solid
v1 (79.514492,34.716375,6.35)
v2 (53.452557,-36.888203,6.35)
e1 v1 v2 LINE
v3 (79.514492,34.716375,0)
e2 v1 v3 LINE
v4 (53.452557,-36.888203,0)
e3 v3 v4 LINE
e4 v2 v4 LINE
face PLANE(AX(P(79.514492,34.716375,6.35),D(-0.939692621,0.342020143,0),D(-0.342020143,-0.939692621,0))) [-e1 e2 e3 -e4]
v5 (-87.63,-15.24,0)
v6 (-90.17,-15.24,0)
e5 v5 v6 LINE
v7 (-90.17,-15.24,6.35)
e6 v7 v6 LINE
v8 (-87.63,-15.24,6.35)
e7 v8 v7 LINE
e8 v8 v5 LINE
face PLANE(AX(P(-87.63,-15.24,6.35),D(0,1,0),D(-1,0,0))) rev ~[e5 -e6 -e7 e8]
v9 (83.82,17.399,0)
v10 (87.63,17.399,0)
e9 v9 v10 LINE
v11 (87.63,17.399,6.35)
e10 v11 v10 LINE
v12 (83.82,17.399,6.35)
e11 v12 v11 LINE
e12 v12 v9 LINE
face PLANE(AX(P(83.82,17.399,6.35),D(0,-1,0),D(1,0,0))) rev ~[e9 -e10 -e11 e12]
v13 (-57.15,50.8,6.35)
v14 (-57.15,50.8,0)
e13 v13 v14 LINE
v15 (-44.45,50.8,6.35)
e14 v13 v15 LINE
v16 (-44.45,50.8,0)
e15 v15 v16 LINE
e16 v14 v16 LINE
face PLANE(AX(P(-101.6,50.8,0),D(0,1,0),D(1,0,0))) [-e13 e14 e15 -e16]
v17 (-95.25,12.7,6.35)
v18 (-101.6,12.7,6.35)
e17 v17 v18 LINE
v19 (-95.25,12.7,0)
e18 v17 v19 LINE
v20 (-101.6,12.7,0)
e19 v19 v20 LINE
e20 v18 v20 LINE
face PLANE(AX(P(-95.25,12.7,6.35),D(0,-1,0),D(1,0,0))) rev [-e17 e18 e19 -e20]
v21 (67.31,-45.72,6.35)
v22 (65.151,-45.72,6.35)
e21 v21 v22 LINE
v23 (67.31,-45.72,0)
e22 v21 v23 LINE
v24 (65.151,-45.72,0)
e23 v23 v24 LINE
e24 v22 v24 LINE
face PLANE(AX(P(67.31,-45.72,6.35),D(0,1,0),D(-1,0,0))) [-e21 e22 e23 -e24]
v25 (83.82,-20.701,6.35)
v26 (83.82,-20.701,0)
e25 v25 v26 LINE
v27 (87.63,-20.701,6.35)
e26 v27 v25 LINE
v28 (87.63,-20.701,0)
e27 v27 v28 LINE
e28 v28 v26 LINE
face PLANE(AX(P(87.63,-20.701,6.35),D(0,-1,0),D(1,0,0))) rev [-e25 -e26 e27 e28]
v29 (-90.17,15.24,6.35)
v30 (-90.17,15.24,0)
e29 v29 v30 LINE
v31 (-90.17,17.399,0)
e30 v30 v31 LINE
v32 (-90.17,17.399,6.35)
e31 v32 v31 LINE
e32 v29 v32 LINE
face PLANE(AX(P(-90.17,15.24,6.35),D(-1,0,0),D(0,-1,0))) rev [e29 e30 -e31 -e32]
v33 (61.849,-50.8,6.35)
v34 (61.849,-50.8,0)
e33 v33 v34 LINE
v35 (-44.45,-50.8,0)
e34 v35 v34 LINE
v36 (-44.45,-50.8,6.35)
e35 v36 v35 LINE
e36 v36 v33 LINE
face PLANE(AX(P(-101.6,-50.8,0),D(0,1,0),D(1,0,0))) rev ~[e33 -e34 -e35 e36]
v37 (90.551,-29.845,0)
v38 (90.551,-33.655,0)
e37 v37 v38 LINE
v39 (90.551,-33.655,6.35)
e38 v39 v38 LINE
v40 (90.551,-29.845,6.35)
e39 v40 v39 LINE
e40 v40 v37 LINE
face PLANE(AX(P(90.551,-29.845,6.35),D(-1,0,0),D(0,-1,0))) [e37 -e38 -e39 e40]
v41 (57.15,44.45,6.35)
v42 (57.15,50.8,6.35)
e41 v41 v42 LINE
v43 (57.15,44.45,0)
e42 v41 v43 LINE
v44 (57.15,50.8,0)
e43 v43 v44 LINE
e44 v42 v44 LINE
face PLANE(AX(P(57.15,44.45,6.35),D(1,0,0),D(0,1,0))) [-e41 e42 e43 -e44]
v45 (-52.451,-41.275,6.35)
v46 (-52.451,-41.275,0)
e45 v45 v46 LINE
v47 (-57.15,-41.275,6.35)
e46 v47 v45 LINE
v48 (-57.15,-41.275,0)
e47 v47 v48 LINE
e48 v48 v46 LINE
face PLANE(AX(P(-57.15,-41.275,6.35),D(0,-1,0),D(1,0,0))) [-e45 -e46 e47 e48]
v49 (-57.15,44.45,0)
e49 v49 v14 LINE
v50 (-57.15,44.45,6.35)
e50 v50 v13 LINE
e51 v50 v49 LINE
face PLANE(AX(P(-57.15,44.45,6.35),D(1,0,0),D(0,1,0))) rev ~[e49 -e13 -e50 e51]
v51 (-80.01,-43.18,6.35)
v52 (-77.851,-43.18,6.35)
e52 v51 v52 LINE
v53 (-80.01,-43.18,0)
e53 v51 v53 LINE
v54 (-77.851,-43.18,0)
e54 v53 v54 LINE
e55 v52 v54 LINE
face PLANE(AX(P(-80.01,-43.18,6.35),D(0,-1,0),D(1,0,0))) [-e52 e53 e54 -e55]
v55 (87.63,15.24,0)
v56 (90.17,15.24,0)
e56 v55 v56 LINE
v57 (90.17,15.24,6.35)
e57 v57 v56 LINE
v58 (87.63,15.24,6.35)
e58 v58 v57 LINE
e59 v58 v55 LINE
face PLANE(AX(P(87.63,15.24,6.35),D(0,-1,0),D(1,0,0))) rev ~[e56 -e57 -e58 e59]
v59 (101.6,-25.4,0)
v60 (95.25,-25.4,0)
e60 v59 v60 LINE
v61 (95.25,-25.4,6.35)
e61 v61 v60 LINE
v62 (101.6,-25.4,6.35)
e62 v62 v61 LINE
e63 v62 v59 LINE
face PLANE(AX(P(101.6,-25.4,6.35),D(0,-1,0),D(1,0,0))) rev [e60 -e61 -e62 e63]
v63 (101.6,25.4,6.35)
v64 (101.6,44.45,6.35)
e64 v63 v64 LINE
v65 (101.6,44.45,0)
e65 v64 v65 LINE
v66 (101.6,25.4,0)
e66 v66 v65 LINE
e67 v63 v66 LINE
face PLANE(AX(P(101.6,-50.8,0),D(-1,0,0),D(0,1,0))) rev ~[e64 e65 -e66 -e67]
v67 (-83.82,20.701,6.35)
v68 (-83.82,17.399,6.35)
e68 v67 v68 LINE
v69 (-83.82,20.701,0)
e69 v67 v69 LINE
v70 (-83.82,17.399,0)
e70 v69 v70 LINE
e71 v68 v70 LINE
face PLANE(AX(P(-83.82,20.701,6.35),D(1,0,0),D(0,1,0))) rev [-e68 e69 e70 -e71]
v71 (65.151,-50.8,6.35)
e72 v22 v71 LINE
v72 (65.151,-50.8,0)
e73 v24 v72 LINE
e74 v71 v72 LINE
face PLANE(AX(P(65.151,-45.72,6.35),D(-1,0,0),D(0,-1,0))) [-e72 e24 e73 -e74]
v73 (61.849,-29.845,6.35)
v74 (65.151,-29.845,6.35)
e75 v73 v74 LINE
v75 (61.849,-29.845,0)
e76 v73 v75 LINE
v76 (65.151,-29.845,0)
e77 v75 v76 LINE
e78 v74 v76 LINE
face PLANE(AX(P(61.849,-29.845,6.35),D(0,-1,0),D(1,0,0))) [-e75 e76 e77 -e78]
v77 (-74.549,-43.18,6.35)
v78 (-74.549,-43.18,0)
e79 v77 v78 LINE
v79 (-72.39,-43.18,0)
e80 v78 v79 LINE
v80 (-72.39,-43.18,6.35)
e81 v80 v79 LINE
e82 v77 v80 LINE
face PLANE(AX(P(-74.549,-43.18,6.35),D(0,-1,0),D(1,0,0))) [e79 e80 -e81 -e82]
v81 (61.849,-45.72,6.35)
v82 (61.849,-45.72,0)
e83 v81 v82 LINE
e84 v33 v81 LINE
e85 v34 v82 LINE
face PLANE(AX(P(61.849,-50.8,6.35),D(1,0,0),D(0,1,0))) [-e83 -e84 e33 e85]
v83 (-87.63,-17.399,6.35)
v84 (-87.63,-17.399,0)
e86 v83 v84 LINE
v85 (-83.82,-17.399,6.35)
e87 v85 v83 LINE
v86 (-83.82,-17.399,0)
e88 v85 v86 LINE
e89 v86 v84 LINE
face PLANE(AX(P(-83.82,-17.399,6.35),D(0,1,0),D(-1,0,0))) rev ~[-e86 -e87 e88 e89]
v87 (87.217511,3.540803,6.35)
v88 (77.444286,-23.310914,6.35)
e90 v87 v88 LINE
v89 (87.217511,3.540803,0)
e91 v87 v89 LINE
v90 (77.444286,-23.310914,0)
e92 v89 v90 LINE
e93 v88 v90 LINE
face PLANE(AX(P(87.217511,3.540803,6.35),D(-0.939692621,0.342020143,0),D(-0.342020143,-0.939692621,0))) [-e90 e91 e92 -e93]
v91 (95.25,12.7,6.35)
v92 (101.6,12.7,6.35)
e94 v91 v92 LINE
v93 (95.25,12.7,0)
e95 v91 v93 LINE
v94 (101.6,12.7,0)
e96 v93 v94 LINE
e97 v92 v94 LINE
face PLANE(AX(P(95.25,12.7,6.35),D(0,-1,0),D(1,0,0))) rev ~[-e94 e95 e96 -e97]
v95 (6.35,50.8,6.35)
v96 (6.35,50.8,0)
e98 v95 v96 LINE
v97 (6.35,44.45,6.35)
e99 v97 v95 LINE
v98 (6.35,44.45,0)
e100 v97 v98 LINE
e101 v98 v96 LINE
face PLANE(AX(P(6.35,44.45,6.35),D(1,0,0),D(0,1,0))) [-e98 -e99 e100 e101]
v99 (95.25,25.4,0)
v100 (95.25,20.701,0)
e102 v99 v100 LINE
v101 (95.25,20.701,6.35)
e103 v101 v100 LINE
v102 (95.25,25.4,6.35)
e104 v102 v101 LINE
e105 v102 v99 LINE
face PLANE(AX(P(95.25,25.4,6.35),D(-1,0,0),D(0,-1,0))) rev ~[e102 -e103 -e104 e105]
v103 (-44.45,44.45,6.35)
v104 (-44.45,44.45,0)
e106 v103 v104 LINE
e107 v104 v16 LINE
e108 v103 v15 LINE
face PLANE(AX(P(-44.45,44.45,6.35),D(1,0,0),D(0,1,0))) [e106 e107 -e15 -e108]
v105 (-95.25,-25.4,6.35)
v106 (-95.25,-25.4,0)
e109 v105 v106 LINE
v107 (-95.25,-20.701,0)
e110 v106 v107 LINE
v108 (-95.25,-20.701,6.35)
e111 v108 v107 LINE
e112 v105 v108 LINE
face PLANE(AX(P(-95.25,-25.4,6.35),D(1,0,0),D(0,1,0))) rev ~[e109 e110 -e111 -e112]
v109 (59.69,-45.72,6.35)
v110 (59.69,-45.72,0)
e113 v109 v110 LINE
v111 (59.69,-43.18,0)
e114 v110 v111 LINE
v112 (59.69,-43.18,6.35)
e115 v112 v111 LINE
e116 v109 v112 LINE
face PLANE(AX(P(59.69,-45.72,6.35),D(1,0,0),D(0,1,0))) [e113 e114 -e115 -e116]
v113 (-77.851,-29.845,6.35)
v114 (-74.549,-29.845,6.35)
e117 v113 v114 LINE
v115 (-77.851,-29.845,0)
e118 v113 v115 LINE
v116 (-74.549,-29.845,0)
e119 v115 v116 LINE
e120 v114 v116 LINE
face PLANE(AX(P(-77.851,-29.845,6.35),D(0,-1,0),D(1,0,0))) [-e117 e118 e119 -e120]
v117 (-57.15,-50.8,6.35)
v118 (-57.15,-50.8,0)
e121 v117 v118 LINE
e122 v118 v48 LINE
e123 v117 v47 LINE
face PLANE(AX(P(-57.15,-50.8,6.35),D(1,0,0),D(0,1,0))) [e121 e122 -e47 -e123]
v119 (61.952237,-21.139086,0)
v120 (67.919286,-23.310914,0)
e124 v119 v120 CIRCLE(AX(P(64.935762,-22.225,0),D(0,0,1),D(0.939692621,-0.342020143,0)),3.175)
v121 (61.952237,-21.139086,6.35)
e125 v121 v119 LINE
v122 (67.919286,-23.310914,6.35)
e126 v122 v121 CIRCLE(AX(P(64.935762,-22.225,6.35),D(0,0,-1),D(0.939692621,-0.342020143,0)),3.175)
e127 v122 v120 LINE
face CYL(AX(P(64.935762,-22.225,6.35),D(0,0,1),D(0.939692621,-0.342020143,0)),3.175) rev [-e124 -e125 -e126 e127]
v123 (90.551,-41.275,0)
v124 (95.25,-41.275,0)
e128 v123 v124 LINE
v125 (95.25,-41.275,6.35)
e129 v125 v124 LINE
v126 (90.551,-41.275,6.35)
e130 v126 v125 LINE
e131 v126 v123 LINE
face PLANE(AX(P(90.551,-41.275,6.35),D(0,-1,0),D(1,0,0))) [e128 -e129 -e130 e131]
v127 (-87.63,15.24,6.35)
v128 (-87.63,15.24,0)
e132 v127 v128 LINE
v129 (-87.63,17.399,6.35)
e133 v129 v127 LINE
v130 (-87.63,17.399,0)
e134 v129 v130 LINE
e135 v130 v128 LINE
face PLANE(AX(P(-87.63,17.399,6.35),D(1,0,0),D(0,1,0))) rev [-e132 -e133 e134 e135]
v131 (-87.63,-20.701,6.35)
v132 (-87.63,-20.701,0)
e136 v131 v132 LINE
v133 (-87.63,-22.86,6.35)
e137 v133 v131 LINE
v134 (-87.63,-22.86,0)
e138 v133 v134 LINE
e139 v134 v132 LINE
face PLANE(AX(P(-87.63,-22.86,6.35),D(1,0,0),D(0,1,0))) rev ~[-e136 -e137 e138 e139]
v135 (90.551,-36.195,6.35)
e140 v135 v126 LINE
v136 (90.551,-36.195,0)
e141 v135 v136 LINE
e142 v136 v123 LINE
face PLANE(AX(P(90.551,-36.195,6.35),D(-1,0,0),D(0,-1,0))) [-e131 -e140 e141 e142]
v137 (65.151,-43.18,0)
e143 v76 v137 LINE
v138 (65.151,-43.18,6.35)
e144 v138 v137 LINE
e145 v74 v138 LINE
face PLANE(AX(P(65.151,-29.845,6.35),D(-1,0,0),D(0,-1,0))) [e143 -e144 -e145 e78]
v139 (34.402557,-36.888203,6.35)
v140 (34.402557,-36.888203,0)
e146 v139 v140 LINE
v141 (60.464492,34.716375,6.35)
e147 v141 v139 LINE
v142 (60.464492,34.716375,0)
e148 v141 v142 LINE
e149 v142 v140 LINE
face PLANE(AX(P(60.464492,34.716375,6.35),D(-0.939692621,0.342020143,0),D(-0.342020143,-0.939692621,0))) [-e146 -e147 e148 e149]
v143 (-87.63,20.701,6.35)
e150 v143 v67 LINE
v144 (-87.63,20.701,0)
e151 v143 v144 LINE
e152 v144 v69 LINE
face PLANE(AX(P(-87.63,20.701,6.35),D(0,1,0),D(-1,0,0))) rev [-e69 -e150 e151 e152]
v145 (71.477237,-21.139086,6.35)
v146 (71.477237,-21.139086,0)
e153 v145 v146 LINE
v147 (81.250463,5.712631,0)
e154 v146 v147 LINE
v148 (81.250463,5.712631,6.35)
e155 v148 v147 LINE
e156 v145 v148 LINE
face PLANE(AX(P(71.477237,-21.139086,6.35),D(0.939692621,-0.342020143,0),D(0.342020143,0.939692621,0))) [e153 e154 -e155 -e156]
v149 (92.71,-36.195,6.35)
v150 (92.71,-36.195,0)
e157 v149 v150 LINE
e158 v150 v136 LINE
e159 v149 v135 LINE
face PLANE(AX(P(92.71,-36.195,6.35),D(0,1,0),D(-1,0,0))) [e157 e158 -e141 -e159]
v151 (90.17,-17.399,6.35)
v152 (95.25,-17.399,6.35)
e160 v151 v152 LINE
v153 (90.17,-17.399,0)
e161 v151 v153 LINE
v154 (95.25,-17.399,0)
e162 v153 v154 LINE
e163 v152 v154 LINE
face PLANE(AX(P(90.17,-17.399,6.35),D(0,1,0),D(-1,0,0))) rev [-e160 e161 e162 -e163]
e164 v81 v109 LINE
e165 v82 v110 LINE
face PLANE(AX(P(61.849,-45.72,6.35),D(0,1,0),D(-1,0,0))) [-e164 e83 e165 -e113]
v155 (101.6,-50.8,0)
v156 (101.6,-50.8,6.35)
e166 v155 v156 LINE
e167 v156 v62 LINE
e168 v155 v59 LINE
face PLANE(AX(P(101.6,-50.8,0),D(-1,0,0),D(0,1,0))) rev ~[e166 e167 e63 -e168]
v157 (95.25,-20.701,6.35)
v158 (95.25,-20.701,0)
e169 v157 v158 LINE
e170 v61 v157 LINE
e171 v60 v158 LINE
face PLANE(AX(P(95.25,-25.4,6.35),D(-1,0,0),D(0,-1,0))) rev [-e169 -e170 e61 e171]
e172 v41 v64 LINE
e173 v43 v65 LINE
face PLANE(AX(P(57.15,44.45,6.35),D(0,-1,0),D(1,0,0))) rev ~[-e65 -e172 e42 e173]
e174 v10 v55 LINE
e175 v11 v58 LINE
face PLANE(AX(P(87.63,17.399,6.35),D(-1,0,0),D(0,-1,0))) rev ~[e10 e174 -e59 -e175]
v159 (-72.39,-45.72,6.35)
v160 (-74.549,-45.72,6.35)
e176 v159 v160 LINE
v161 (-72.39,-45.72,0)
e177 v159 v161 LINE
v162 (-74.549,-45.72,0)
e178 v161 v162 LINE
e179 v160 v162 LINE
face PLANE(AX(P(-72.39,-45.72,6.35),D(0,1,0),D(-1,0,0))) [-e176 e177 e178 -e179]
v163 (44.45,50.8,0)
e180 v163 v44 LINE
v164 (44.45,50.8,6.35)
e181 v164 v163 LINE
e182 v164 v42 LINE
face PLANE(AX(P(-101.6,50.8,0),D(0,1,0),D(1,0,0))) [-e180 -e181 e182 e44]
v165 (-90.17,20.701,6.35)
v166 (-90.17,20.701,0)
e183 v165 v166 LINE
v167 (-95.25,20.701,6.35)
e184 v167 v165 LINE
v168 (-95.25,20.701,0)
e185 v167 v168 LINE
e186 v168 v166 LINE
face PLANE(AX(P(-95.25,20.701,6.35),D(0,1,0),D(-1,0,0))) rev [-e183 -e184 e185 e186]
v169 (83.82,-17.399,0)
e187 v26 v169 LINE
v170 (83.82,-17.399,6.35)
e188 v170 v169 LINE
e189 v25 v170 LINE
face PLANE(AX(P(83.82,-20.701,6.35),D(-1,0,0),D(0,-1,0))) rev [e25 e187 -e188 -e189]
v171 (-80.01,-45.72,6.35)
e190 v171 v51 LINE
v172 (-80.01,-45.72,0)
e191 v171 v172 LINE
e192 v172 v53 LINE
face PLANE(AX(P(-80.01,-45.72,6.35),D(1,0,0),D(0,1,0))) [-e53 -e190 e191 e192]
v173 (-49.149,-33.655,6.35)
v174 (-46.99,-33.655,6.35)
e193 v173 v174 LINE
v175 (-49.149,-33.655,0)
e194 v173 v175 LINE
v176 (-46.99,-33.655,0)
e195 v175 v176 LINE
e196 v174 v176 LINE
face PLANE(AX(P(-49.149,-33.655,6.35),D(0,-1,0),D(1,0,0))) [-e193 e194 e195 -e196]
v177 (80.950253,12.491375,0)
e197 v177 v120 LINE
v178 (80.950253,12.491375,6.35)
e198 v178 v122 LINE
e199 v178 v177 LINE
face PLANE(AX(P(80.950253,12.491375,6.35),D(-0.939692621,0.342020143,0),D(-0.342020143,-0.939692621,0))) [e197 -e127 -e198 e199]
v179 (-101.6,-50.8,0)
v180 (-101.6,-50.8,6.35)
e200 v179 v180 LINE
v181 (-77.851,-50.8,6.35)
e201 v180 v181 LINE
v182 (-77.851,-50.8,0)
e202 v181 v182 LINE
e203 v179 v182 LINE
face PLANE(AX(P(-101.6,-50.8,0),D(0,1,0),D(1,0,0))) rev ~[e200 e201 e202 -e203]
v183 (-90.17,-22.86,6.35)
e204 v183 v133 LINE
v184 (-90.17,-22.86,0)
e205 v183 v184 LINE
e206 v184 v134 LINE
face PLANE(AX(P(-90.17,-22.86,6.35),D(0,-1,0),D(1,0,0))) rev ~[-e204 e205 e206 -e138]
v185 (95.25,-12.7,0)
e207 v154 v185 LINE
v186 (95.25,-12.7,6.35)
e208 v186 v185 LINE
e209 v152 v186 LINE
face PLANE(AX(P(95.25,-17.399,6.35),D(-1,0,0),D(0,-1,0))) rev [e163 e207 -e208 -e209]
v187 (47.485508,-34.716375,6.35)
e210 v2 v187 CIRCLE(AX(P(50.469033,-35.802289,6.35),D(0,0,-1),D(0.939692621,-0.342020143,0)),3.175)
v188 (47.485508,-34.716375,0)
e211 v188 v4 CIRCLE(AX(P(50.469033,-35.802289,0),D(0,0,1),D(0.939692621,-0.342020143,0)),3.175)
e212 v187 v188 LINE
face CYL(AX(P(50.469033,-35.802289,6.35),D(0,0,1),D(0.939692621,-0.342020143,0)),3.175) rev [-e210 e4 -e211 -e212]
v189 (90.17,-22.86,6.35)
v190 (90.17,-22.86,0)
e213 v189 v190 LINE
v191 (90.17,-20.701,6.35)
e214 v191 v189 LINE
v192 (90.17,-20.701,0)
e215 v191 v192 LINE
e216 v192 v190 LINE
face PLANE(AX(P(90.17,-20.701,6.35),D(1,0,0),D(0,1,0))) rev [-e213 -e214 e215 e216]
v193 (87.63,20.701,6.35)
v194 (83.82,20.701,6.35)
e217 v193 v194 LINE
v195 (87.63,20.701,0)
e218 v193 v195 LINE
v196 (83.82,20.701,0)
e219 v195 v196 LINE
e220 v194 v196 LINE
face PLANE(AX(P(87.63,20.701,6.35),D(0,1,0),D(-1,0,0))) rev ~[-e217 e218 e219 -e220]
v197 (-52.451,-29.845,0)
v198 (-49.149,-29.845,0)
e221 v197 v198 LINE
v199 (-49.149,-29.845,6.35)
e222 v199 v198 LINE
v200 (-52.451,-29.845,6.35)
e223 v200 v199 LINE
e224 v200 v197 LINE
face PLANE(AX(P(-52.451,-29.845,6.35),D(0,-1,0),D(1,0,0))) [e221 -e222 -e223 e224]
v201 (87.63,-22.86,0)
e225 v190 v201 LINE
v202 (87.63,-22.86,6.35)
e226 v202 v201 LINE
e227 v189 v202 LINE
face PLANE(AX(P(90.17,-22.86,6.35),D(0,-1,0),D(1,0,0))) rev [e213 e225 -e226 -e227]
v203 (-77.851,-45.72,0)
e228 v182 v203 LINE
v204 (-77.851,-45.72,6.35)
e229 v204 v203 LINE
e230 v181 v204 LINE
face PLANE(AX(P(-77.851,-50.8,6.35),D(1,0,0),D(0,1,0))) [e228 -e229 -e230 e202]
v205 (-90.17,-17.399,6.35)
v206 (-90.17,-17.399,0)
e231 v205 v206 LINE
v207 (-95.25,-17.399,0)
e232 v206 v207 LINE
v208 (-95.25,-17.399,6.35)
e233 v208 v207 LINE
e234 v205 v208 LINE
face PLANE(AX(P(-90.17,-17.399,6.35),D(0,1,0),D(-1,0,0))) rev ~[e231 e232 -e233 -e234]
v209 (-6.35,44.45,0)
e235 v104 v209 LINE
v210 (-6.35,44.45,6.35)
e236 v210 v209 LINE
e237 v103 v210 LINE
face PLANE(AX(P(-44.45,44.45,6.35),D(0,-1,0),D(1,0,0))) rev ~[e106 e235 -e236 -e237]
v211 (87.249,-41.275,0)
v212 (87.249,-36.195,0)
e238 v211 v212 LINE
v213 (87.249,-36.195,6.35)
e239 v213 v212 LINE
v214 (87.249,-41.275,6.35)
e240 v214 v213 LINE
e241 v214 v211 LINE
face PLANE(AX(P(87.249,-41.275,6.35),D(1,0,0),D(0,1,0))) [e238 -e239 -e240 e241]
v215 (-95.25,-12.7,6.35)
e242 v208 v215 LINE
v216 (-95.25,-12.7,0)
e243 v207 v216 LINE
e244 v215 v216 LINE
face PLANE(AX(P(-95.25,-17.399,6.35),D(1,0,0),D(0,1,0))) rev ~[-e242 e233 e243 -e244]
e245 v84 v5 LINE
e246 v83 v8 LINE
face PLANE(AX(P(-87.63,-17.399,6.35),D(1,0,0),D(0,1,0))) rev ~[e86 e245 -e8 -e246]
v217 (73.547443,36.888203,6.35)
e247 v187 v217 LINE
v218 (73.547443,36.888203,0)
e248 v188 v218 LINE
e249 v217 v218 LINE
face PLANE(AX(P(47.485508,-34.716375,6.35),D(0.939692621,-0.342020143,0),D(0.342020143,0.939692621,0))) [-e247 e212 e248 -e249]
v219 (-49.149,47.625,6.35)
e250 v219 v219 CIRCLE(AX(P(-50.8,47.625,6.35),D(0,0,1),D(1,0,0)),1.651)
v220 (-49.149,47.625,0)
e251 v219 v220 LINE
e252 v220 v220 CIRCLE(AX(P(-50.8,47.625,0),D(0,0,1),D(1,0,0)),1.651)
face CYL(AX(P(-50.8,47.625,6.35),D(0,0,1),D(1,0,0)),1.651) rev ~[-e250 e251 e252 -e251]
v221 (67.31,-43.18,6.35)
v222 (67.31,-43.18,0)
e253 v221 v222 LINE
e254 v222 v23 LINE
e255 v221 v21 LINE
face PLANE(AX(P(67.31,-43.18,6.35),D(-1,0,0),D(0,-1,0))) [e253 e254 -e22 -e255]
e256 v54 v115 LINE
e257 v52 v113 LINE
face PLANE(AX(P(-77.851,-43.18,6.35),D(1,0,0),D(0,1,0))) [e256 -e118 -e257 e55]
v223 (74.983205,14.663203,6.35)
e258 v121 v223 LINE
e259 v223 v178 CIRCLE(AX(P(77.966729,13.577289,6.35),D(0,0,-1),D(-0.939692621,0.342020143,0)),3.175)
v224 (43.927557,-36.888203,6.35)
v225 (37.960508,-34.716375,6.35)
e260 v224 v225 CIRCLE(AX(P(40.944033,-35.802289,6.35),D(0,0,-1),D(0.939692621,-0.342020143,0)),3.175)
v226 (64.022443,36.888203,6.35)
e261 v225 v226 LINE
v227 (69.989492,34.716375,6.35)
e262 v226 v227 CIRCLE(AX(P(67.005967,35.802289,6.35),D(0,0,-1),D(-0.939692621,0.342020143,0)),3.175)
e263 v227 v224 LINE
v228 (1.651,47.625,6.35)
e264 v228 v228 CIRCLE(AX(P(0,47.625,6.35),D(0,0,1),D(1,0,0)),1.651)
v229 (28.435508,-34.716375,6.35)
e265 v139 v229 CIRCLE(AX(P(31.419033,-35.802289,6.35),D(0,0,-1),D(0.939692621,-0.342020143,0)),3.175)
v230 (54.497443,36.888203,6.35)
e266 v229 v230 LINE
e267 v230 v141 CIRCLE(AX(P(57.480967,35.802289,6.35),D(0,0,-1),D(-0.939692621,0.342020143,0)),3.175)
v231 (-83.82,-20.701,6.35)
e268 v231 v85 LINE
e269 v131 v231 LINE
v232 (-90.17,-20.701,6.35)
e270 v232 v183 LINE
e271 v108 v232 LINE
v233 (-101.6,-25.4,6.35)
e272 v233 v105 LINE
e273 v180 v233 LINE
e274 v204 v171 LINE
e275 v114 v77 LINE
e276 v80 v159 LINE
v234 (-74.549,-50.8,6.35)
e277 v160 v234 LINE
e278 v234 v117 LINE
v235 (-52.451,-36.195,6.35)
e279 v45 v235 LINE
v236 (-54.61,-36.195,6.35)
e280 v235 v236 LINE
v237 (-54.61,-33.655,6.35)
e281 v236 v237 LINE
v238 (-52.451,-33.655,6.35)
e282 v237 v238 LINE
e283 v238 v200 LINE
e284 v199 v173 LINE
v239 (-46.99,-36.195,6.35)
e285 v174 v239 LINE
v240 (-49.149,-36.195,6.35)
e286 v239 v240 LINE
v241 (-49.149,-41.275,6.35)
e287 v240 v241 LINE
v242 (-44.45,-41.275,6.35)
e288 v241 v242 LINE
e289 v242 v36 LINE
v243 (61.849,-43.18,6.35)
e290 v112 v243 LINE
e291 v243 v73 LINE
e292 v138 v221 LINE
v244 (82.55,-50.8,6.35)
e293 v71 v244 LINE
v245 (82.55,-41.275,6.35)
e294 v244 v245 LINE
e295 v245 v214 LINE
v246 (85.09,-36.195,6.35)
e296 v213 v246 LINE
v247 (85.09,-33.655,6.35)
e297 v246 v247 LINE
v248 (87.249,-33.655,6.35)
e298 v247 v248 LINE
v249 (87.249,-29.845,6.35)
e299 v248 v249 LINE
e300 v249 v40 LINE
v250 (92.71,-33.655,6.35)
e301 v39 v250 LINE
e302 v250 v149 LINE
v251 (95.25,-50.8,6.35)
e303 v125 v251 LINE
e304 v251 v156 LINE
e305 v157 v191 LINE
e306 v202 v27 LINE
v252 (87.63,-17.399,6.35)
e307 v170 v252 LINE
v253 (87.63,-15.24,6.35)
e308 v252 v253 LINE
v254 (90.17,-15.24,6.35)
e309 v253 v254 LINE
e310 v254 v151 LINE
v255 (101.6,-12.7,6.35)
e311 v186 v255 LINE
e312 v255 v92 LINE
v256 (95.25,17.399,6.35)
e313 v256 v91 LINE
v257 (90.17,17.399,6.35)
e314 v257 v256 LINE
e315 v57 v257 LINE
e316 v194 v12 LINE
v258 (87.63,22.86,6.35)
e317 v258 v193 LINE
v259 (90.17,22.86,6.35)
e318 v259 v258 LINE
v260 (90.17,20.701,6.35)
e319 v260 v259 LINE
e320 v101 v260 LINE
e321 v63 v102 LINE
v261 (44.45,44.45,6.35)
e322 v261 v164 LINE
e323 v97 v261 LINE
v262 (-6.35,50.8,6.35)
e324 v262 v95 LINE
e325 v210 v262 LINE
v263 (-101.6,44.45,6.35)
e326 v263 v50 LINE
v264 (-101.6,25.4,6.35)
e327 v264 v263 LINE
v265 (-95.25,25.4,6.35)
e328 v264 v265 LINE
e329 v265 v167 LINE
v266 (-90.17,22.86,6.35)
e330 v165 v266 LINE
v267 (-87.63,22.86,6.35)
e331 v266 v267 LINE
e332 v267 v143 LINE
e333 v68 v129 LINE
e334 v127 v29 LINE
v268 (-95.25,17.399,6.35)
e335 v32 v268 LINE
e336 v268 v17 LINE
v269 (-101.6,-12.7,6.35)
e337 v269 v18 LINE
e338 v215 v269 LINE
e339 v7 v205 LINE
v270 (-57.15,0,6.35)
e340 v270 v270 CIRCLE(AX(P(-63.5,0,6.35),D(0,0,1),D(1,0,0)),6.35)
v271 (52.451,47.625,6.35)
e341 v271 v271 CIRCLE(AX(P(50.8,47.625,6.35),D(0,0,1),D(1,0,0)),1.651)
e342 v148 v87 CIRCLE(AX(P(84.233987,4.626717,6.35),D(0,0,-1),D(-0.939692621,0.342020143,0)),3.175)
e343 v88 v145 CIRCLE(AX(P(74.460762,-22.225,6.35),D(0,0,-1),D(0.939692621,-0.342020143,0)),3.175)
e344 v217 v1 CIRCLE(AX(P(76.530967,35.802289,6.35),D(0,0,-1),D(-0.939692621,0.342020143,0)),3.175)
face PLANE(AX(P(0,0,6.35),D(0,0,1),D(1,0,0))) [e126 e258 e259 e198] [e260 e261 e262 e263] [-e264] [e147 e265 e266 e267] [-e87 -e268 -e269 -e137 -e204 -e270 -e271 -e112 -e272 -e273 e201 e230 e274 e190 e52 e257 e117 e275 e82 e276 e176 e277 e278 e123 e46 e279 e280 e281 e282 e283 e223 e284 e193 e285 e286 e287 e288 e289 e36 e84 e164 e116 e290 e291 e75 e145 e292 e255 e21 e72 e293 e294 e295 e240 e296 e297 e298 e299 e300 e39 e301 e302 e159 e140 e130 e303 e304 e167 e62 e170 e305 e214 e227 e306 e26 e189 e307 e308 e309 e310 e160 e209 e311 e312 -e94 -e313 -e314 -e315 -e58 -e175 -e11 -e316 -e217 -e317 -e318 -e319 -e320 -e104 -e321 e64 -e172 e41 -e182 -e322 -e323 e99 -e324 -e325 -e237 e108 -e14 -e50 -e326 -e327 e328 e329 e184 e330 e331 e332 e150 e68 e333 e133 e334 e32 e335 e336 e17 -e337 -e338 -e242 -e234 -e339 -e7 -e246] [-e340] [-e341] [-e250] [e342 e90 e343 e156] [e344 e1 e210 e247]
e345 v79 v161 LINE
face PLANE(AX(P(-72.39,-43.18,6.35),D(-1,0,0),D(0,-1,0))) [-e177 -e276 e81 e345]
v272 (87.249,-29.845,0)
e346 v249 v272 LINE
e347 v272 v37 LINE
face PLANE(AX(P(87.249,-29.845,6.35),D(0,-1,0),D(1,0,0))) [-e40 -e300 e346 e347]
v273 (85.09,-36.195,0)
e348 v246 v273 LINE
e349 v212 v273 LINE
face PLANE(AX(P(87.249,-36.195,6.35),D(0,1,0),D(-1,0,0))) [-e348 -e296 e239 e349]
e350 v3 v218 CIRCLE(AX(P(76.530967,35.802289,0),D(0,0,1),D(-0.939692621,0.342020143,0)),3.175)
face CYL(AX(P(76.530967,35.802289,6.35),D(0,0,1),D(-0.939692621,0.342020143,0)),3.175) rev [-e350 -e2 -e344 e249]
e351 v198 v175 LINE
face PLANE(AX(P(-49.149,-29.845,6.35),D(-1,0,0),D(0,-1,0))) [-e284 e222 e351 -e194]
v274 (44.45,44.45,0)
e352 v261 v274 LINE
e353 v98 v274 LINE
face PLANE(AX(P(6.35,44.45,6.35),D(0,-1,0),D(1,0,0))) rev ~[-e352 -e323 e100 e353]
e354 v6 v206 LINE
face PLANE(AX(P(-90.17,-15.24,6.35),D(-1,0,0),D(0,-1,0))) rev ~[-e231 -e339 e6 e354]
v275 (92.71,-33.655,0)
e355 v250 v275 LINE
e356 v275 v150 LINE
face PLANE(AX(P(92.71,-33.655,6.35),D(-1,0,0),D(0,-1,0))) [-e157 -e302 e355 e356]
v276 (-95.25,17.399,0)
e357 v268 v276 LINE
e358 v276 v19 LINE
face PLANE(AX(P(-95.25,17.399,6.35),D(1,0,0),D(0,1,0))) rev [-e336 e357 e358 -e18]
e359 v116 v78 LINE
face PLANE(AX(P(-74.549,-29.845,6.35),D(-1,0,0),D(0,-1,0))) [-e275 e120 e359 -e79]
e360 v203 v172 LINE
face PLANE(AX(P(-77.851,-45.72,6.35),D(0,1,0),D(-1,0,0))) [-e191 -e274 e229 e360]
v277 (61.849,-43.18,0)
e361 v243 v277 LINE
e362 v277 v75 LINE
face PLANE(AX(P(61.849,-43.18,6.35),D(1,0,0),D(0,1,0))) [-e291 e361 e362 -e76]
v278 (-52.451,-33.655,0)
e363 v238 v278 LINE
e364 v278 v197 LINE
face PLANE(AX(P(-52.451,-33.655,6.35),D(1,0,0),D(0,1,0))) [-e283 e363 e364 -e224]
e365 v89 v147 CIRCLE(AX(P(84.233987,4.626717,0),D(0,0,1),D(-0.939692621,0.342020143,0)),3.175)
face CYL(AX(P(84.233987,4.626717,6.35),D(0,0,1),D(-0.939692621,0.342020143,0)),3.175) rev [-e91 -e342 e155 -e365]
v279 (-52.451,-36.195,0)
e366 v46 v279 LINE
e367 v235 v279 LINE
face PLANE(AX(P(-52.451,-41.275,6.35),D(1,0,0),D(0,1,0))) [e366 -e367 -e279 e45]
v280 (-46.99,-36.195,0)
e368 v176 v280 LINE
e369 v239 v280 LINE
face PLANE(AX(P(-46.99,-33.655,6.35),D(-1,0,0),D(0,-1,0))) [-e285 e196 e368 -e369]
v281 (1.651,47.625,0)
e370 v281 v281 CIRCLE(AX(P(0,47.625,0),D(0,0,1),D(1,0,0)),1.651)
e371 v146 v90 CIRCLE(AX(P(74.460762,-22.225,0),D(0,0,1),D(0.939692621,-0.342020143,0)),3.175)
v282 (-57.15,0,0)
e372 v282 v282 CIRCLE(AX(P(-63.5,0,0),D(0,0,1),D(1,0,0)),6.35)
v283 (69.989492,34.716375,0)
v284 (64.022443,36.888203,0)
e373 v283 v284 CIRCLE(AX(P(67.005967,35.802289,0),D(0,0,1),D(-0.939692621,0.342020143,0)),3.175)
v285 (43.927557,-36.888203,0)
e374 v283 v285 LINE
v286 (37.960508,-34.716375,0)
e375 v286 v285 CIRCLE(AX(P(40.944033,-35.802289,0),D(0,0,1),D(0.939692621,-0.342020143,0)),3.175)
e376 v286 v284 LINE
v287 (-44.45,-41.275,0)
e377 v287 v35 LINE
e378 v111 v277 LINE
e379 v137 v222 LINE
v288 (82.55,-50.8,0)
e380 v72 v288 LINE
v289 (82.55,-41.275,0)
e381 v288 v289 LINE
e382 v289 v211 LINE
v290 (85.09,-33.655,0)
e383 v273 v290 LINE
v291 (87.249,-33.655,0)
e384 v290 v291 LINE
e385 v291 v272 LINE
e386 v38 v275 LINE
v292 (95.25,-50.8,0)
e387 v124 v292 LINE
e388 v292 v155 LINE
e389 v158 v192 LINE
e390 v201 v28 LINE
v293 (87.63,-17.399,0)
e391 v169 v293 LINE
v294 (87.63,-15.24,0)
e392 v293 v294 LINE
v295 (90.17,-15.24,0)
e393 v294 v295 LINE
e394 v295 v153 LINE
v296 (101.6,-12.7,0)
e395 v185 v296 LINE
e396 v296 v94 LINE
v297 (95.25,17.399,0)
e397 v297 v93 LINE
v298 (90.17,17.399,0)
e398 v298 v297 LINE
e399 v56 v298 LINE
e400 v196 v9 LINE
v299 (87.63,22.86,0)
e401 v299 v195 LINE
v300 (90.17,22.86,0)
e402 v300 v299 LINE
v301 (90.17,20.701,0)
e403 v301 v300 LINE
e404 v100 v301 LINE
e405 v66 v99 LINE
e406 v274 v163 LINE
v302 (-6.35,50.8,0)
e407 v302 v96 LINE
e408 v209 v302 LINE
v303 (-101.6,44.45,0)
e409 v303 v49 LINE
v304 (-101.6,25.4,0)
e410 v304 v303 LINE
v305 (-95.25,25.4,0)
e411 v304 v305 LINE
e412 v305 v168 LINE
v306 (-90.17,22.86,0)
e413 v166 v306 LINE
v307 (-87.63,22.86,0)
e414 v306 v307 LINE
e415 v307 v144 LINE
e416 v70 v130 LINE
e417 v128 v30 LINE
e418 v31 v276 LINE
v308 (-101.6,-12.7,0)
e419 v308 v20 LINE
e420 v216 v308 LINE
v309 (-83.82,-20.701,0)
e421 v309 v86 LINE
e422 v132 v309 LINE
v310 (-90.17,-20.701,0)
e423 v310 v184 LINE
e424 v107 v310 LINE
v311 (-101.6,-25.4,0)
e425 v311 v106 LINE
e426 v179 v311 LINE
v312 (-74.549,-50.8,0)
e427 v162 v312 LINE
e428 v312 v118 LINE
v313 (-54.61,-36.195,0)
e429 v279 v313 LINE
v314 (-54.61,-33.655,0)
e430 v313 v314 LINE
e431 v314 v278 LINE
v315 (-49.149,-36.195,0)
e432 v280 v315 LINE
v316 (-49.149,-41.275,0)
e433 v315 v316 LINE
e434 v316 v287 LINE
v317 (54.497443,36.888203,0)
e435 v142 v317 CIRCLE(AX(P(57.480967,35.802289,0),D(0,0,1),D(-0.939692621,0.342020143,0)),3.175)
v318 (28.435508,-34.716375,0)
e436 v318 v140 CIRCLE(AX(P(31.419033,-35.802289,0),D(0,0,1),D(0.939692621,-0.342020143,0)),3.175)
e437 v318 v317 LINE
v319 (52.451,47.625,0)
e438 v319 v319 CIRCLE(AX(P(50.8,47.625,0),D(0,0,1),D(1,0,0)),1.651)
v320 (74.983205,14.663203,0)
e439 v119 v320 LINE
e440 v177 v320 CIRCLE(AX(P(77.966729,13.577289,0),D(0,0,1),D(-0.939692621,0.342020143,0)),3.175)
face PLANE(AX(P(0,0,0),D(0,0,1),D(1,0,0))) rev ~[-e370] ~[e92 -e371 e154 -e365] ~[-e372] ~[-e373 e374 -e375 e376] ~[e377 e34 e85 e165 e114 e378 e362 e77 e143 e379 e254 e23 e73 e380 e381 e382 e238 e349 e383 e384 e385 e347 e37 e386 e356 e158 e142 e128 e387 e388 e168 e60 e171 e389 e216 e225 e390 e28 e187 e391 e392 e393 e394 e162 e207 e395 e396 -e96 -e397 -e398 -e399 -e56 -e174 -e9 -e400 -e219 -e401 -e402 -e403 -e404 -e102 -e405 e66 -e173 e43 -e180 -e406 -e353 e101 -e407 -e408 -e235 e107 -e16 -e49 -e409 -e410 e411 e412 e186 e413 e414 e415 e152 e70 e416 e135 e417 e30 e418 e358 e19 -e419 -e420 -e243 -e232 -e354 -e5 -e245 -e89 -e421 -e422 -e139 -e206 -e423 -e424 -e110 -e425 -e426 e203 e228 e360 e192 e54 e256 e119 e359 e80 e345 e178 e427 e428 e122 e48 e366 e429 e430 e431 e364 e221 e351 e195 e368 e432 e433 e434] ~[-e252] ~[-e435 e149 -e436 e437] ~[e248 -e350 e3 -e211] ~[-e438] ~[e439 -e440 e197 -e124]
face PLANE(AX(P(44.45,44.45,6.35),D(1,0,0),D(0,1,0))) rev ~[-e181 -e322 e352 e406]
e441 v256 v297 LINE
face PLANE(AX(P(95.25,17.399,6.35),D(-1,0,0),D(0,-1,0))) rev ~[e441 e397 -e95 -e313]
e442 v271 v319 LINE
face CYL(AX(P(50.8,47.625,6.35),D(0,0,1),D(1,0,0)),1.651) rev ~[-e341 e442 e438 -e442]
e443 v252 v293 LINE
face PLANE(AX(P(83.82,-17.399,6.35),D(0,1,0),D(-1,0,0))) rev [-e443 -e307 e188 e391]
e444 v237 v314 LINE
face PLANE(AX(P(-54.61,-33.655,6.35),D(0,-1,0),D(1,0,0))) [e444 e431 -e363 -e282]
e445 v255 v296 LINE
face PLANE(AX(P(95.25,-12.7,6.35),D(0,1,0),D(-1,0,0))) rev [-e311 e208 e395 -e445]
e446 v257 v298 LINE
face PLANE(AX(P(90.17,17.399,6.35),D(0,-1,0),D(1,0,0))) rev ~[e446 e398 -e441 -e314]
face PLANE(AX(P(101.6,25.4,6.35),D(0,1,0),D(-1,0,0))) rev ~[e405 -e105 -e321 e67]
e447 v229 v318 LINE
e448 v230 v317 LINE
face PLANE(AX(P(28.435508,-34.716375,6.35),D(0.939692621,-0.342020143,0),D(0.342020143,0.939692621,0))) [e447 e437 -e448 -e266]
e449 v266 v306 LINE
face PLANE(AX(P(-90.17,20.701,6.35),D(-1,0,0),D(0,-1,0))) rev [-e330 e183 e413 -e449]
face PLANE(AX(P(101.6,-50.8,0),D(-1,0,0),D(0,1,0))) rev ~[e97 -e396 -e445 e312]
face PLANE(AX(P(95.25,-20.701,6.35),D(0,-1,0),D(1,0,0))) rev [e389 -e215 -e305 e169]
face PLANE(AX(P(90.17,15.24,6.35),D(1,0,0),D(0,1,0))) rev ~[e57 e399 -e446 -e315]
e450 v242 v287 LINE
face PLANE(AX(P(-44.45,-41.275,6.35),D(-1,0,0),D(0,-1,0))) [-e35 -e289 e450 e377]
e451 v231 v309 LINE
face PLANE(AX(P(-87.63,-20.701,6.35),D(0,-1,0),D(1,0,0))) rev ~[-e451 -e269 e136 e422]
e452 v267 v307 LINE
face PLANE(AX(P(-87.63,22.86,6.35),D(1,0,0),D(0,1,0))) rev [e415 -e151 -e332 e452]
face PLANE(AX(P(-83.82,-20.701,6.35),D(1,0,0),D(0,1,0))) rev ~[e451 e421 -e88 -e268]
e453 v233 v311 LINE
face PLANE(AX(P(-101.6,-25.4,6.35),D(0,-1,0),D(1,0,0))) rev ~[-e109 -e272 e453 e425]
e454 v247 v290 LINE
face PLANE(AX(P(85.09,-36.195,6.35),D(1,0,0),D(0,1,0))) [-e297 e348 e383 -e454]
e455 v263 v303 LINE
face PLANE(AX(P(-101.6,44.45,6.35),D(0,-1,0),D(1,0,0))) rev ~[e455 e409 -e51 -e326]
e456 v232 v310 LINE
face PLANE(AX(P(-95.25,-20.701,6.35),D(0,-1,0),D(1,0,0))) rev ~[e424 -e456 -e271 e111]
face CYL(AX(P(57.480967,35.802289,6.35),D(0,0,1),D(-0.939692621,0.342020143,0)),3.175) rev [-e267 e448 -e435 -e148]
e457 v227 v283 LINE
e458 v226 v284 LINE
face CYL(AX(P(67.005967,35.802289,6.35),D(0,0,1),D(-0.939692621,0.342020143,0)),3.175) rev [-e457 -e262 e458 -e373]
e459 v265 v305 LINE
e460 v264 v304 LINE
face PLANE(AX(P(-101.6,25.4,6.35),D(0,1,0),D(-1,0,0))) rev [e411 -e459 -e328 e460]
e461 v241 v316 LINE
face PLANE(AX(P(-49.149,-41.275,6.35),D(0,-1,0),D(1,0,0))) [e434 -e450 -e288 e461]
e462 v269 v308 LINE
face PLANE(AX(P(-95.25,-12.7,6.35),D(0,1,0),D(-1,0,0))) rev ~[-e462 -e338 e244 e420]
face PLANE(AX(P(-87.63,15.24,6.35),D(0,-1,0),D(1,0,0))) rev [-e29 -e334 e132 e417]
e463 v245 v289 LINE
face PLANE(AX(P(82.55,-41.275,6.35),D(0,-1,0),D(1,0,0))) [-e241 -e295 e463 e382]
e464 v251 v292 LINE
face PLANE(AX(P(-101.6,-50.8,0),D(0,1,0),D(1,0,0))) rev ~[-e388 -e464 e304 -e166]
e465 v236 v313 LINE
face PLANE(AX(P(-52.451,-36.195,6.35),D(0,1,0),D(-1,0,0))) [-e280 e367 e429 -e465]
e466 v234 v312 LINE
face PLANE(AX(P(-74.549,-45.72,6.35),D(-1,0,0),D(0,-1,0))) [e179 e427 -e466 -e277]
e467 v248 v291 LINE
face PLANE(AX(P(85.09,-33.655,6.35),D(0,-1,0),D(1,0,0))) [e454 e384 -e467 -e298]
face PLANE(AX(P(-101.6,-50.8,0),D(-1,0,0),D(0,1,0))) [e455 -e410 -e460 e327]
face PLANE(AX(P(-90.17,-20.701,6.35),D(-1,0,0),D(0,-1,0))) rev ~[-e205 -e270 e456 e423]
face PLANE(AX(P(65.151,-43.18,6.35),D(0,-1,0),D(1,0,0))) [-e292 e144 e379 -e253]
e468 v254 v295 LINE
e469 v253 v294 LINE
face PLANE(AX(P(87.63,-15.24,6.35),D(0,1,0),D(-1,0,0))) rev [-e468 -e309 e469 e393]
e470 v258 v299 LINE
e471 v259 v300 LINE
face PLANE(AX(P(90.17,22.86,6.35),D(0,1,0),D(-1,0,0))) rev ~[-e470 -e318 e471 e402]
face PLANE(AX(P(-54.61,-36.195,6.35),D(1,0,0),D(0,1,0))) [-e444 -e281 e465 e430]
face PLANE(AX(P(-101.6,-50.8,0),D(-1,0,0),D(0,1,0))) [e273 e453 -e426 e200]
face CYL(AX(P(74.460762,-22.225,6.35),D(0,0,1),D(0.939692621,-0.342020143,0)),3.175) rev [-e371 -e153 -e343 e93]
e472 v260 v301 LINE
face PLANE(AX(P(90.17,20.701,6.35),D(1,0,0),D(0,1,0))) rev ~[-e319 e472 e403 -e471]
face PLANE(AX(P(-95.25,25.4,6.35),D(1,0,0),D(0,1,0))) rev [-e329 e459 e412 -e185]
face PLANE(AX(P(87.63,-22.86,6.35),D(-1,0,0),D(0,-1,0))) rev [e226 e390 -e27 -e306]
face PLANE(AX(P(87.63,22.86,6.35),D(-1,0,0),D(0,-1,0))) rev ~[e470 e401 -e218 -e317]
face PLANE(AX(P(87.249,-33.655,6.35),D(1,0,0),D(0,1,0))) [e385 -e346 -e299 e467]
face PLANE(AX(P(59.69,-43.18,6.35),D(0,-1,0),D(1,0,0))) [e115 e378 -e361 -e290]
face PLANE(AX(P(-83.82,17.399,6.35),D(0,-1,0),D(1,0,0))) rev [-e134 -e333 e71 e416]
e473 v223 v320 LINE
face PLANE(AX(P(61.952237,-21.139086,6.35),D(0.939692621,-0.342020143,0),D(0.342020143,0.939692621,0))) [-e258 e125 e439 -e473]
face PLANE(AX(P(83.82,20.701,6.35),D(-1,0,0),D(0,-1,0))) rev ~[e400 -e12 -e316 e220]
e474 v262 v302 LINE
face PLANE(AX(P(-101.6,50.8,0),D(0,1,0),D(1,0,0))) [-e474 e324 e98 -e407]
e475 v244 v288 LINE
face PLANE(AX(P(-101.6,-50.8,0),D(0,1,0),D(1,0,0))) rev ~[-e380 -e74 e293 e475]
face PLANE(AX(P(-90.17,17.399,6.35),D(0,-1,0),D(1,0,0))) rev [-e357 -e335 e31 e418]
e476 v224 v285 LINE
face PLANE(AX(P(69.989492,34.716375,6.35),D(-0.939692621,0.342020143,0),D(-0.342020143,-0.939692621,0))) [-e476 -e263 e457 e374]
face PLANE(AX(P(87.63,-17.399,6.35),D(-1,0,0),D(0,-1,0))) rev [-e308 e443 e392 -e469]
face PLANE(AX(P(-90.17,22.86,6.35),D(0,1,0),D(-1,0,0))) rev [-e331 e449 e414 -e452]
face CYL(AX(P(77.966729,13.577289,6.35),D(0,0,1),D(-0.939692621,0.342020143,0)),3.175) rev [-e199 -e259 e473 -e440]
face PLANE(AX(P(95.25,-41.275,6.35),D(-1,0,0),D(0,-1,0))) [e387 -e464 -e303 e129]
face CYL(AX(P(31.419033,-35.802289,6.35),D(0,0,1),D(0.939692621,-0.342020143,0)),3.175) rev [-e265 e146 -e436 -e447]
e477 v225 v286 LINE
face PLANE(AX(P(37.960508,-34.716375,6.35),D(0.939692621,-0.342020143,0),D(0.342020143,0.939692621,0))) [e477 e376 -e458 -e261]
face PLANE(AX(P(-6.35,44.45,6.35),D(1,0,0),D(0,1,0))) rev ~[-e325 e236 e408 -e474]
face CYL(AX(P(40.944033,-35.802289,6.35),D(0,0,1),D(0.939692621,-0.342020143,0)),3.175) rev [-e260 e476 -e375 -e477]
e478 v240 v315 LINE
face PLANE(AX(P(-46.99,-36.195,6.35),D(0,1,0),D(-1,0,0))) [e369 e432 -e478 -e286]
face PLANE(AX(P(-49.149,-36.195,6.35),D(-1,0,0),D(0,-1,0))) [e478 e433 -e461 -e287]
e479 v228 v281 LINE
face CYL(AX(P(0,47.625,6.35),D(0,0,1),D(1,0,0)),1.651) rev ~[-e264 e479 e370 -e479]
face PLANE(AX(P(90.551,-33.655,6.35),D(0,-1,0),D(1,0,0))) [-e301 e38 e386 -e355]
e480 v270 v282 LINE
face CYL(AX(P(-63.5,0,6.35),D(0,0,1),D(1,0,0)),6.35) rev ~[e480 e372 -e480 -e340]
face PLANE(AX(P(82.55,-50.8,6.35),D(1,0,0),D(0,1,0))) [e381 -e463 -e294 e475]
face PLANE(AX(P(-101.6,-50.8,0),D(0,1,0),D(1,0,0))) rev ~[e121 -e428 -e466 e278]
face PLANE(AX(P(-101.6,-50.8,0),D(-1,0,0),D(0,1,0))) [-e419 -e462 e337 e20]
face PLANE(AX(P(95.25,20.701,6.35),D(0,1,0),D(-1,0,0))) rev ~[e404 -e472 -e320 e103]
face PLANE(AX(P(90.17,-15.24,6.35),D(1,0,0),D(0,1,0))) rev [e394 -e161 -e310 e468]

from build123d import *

# Parameters (mm, degrees)
SKETCH1_W            = 203.2
SKETCH1_H            = 101.6
BOSS_EXTRUDE1_DEPTH  = 6.35
CUT_EXTRUDE2_DEPTH   = 114.769602707
MIRROR1_COPY_1_DEPTH = 114.769602707
SKETCH2_R            = 1.651
SKETCH2_W            = 44.45
SKETCH2_H            = 6.35
SKETCH2_W_2          = 38.1
CUT_EXTRUDE1_DEPTH   = 114.769602707
SKETCH4_R            = 6.35
CUT_EXTRUDE3_DEPTH   = 114.769602707
CUT_EXTRUDE4_DEPTH   = 114.769602707
LPATTERN1_COUNT      = 3
LPATTERN1_PITCH      = 9.525
CUT_EXTRUDE5_DEPTH   = 114.769602707


with BuildPart() as part:
    # Sketch1 → Boss-Extrude1 (new body)
    with BuildSketch(Plane.XY):
        Rectangle(SKETCH1_W, SKETCH1_H)
    extrude(amount=BOSS_EXTRUDE1_DEPTH)

    # Sketch3 → Cut-Extrude2 (cut, through all)
    with BuildSketch(Plane.XY.offset(6.35)):
        Polygon((101.6, 25.4), (95.25, 25.4), (95.25, 20.701), (90.17, 20.701), (90.17, 22.86), (87.63, 22.86), (87.63, 20.701), (83.82, 20.701), (83.82, 17.399), (87.63, 17.399), (87.63, 15.24), (90.17, 15.24), (90.17, 17.399), (95.25, 17.399), (95.25, 12.7), (101.6, 12.7), align=None)
    cut_extrude2 = extrude(amount=-CUT_EXTRUDE2_DEPTH, mode=Mode.SUBTRACT)

    # Mirror4: Cut-Extrude2 across plane
    add(cut_extrude2.mirror(Plane.ZX), mode=Mode.SUBTRACT)

    # Mirror1: Cut-Extrude2 across plane
    add(cut_extrude2.mirror(Plane(origin=(0, 0, 0), x_dir=(0, 0, 1), z_dir=(1, 0, 0))), mode=Mode.SUBTRACT)

    # Mirror1 copy 1 sketch → Mirror1 copy 1 (cut, through all)
    with BuildSketch(Plane(origin=(0, 0, 6.35), x_dir=(-1, 0, 0), z_dir=(0, 0, 1))):
        Polygon((101.6, 25.4), (95.25, 25.4), (95.25, 20.701), (90.17, 20.701), (90.17, 22.86), (87.63, 22.86), (87.63, 20.701), (83.82, 20.701), (83.82, 17.399), (87.63, 17.399), (87.63, 15.24), (90.17, 15.24), (90.17, 17.399), (95.25, 17.399), (95.25, 12.7), (101.6, 12.7), align=None)
    extrude(amount=-MIRROR1_COPY_1_DEPTH, mode=Mode.SUBTRACT)

    # Sketch2 → Cut-Extrude1 (cut, through all)
    with BuildSketch(Plane.XY.offset(6.35)):
        with Locations((-50.8, 47.625)):
            Circle(SKETCH2_R)
        with Locations((0, 47.625)):
            Circle(SKETCH2_R)
        with Locations((50.8, 47.625)):
            Circle(SKETCH2_R)
        with Locations((-79.375, 47.625)):
            Rectangle(SKETCH2_W, SKETCH2_H)
        with Locations((-25.4, 47.625)):
            Rectangle(SKETCH2_W_2, SKETCH2_H)
        with Locations((25.4, 47.625)):
            Rectangle(SKETCH2_W_2, SKETCH2_H)
        with Locations((79.375, 47.625)):
            Rectangle(SKETCH2_W, SKETCH2_H)
        Polygon((-57.15, -50.8), (-57.15, -41.275), (-52.451, -41.275), (-52.451, -36.195), (-54.61, -36.195), (-54.61, -33.655), (-52.451, -33.655), (-52.451, -29.845), (-49.149, -29.845), (-49.149, -33.655), (-46.99, -33.655), (-46.99, -36.195), (-49.149, -36.195), (-49.149, -41.275), (-44.45, -41.275), (-44.45, -50.8), align=None)
        Polygon((82.55, -50.8), (82.55, -41.275), (87.249, -41.275), (87.249, -36.195), (85.09, -36.195), (85.09, -33.655), (87.249, -33.655), (87.249, -29.845), (90.551, -29.845), (90.551, -33.655), (92.71, -33.655), (92.71, -36.195), (90.551, -36.195), (90.551, -41.275), (95.25, -41.275), (95.25, -50.8), align=None)
        Polygon((61.849, -29.845), (65.151, -29.845), (65.151, -43.18), (67.31, -43.18), (67.31, -45.72), (65.151, -45.72), (65.151, -50.8), (61.849, -50.8), (61.849, -45.72), (59.69, -45.72), (59.69, -43.18), (61.849, -43.18), align=None)
        Polygon((-77.851, -50.8), (-77.851, -45.72), (-80.01, -45.72), (-80.01, -43.18), (-77.851, -43.18), (-77.851, -29.845), (-74.549, -29.845), (-74.549, -43.18), (-72.39, -43.18), (-72.39, -45.72), (-74.549, -45.72), (-74.549, -50.8), align=None)
    extrude(amount=-CUT_EXTRUDE1_DEPTH, mode=Mode.SUBTRACT)

    # Sketch4 → Cut-Extrude3 (cut, through all)
    with BuildSketch(Plane.XY.offset(6.35)):
        with Locations((-63.5, 0)):
            Circle(SKETCH4_R)
    extrude(amount=-CUT_EXTRUDE3_DEPTH, mode=Mode.SUBTRACT)

    # Sketch5 → Cut-Extrude4 (cut, through all)
    with BuildSketch(Plane.XY.offset(6.35)):
        with BuildLine():
            Line((47.485508468, -34.716374897), (73.54744339, 36.888202807))
            ThreePointArc((73.54744339, 36.888202807), (77.616881416, 38.785812923), (79.514491532, 34.716374897))
            Line((79.514491532, 34.716374897), (53.45255661, -36.888202807))
            ThreePointArc((53.45255661, -36.888202807), (49.383118584, -38.785812923), (47.485508468, -34.716374897))
        make_face()
    cut_extrude4 = extrude(amount=-CUT_EXTRUDE4_DEPTH, mode=Mode.SUBTRACT)

    # LPattern1: Cut-Extrude4 ×3
    with Locations(*[(-i * LPATTERN1_PITCH, 0, 0) for i in range(1, LPATTERN1_COUNT)]):
        add(cut_extrude4, mode=Mode.SUBTRACT)

    # Sketch6 → Cut-Extrude5 (cut, through all)
    with BuildSketch(Plane.XY.offset(6.35)):
        with BuildLine():
            Line((61.952237472, -21.139086045), (74.983204933, 14.663202807))
            ThreePointArc((74.983204933, 14.663202807), (79.052642959, 16.560812923), (80.950253075, 12.491374897))
            Line((80.950253075, 12.491374897), (67.919285614, -23.310913955))
            ThreePointArc((67.919285614, -23.310913955), (63.849847588, -25.208524071), (61.952237472, -21.139086045))
        make_face()
        with BuildLine():
            Line((87.21751121, 3.540802684), (77.444285614, -23.310913955))
            ThreePointArc((77.444285614, -23.310913955), (73.374847588, -25.208524071), (71.477237472, -21.139086045))
            Line((71.477237472, -21.139086045), (81.250463068, 5.712630594))
            ThreePointArc((81.250463068, 5.712630594), (85.319901094, 7.61024071), (87.21751121, 3.540802684))
        make_face()
    extrude(amount=-CUT_EXTRUDE5_DEPTH, mode=Mode.SUBTRACT)


solid = part.part
